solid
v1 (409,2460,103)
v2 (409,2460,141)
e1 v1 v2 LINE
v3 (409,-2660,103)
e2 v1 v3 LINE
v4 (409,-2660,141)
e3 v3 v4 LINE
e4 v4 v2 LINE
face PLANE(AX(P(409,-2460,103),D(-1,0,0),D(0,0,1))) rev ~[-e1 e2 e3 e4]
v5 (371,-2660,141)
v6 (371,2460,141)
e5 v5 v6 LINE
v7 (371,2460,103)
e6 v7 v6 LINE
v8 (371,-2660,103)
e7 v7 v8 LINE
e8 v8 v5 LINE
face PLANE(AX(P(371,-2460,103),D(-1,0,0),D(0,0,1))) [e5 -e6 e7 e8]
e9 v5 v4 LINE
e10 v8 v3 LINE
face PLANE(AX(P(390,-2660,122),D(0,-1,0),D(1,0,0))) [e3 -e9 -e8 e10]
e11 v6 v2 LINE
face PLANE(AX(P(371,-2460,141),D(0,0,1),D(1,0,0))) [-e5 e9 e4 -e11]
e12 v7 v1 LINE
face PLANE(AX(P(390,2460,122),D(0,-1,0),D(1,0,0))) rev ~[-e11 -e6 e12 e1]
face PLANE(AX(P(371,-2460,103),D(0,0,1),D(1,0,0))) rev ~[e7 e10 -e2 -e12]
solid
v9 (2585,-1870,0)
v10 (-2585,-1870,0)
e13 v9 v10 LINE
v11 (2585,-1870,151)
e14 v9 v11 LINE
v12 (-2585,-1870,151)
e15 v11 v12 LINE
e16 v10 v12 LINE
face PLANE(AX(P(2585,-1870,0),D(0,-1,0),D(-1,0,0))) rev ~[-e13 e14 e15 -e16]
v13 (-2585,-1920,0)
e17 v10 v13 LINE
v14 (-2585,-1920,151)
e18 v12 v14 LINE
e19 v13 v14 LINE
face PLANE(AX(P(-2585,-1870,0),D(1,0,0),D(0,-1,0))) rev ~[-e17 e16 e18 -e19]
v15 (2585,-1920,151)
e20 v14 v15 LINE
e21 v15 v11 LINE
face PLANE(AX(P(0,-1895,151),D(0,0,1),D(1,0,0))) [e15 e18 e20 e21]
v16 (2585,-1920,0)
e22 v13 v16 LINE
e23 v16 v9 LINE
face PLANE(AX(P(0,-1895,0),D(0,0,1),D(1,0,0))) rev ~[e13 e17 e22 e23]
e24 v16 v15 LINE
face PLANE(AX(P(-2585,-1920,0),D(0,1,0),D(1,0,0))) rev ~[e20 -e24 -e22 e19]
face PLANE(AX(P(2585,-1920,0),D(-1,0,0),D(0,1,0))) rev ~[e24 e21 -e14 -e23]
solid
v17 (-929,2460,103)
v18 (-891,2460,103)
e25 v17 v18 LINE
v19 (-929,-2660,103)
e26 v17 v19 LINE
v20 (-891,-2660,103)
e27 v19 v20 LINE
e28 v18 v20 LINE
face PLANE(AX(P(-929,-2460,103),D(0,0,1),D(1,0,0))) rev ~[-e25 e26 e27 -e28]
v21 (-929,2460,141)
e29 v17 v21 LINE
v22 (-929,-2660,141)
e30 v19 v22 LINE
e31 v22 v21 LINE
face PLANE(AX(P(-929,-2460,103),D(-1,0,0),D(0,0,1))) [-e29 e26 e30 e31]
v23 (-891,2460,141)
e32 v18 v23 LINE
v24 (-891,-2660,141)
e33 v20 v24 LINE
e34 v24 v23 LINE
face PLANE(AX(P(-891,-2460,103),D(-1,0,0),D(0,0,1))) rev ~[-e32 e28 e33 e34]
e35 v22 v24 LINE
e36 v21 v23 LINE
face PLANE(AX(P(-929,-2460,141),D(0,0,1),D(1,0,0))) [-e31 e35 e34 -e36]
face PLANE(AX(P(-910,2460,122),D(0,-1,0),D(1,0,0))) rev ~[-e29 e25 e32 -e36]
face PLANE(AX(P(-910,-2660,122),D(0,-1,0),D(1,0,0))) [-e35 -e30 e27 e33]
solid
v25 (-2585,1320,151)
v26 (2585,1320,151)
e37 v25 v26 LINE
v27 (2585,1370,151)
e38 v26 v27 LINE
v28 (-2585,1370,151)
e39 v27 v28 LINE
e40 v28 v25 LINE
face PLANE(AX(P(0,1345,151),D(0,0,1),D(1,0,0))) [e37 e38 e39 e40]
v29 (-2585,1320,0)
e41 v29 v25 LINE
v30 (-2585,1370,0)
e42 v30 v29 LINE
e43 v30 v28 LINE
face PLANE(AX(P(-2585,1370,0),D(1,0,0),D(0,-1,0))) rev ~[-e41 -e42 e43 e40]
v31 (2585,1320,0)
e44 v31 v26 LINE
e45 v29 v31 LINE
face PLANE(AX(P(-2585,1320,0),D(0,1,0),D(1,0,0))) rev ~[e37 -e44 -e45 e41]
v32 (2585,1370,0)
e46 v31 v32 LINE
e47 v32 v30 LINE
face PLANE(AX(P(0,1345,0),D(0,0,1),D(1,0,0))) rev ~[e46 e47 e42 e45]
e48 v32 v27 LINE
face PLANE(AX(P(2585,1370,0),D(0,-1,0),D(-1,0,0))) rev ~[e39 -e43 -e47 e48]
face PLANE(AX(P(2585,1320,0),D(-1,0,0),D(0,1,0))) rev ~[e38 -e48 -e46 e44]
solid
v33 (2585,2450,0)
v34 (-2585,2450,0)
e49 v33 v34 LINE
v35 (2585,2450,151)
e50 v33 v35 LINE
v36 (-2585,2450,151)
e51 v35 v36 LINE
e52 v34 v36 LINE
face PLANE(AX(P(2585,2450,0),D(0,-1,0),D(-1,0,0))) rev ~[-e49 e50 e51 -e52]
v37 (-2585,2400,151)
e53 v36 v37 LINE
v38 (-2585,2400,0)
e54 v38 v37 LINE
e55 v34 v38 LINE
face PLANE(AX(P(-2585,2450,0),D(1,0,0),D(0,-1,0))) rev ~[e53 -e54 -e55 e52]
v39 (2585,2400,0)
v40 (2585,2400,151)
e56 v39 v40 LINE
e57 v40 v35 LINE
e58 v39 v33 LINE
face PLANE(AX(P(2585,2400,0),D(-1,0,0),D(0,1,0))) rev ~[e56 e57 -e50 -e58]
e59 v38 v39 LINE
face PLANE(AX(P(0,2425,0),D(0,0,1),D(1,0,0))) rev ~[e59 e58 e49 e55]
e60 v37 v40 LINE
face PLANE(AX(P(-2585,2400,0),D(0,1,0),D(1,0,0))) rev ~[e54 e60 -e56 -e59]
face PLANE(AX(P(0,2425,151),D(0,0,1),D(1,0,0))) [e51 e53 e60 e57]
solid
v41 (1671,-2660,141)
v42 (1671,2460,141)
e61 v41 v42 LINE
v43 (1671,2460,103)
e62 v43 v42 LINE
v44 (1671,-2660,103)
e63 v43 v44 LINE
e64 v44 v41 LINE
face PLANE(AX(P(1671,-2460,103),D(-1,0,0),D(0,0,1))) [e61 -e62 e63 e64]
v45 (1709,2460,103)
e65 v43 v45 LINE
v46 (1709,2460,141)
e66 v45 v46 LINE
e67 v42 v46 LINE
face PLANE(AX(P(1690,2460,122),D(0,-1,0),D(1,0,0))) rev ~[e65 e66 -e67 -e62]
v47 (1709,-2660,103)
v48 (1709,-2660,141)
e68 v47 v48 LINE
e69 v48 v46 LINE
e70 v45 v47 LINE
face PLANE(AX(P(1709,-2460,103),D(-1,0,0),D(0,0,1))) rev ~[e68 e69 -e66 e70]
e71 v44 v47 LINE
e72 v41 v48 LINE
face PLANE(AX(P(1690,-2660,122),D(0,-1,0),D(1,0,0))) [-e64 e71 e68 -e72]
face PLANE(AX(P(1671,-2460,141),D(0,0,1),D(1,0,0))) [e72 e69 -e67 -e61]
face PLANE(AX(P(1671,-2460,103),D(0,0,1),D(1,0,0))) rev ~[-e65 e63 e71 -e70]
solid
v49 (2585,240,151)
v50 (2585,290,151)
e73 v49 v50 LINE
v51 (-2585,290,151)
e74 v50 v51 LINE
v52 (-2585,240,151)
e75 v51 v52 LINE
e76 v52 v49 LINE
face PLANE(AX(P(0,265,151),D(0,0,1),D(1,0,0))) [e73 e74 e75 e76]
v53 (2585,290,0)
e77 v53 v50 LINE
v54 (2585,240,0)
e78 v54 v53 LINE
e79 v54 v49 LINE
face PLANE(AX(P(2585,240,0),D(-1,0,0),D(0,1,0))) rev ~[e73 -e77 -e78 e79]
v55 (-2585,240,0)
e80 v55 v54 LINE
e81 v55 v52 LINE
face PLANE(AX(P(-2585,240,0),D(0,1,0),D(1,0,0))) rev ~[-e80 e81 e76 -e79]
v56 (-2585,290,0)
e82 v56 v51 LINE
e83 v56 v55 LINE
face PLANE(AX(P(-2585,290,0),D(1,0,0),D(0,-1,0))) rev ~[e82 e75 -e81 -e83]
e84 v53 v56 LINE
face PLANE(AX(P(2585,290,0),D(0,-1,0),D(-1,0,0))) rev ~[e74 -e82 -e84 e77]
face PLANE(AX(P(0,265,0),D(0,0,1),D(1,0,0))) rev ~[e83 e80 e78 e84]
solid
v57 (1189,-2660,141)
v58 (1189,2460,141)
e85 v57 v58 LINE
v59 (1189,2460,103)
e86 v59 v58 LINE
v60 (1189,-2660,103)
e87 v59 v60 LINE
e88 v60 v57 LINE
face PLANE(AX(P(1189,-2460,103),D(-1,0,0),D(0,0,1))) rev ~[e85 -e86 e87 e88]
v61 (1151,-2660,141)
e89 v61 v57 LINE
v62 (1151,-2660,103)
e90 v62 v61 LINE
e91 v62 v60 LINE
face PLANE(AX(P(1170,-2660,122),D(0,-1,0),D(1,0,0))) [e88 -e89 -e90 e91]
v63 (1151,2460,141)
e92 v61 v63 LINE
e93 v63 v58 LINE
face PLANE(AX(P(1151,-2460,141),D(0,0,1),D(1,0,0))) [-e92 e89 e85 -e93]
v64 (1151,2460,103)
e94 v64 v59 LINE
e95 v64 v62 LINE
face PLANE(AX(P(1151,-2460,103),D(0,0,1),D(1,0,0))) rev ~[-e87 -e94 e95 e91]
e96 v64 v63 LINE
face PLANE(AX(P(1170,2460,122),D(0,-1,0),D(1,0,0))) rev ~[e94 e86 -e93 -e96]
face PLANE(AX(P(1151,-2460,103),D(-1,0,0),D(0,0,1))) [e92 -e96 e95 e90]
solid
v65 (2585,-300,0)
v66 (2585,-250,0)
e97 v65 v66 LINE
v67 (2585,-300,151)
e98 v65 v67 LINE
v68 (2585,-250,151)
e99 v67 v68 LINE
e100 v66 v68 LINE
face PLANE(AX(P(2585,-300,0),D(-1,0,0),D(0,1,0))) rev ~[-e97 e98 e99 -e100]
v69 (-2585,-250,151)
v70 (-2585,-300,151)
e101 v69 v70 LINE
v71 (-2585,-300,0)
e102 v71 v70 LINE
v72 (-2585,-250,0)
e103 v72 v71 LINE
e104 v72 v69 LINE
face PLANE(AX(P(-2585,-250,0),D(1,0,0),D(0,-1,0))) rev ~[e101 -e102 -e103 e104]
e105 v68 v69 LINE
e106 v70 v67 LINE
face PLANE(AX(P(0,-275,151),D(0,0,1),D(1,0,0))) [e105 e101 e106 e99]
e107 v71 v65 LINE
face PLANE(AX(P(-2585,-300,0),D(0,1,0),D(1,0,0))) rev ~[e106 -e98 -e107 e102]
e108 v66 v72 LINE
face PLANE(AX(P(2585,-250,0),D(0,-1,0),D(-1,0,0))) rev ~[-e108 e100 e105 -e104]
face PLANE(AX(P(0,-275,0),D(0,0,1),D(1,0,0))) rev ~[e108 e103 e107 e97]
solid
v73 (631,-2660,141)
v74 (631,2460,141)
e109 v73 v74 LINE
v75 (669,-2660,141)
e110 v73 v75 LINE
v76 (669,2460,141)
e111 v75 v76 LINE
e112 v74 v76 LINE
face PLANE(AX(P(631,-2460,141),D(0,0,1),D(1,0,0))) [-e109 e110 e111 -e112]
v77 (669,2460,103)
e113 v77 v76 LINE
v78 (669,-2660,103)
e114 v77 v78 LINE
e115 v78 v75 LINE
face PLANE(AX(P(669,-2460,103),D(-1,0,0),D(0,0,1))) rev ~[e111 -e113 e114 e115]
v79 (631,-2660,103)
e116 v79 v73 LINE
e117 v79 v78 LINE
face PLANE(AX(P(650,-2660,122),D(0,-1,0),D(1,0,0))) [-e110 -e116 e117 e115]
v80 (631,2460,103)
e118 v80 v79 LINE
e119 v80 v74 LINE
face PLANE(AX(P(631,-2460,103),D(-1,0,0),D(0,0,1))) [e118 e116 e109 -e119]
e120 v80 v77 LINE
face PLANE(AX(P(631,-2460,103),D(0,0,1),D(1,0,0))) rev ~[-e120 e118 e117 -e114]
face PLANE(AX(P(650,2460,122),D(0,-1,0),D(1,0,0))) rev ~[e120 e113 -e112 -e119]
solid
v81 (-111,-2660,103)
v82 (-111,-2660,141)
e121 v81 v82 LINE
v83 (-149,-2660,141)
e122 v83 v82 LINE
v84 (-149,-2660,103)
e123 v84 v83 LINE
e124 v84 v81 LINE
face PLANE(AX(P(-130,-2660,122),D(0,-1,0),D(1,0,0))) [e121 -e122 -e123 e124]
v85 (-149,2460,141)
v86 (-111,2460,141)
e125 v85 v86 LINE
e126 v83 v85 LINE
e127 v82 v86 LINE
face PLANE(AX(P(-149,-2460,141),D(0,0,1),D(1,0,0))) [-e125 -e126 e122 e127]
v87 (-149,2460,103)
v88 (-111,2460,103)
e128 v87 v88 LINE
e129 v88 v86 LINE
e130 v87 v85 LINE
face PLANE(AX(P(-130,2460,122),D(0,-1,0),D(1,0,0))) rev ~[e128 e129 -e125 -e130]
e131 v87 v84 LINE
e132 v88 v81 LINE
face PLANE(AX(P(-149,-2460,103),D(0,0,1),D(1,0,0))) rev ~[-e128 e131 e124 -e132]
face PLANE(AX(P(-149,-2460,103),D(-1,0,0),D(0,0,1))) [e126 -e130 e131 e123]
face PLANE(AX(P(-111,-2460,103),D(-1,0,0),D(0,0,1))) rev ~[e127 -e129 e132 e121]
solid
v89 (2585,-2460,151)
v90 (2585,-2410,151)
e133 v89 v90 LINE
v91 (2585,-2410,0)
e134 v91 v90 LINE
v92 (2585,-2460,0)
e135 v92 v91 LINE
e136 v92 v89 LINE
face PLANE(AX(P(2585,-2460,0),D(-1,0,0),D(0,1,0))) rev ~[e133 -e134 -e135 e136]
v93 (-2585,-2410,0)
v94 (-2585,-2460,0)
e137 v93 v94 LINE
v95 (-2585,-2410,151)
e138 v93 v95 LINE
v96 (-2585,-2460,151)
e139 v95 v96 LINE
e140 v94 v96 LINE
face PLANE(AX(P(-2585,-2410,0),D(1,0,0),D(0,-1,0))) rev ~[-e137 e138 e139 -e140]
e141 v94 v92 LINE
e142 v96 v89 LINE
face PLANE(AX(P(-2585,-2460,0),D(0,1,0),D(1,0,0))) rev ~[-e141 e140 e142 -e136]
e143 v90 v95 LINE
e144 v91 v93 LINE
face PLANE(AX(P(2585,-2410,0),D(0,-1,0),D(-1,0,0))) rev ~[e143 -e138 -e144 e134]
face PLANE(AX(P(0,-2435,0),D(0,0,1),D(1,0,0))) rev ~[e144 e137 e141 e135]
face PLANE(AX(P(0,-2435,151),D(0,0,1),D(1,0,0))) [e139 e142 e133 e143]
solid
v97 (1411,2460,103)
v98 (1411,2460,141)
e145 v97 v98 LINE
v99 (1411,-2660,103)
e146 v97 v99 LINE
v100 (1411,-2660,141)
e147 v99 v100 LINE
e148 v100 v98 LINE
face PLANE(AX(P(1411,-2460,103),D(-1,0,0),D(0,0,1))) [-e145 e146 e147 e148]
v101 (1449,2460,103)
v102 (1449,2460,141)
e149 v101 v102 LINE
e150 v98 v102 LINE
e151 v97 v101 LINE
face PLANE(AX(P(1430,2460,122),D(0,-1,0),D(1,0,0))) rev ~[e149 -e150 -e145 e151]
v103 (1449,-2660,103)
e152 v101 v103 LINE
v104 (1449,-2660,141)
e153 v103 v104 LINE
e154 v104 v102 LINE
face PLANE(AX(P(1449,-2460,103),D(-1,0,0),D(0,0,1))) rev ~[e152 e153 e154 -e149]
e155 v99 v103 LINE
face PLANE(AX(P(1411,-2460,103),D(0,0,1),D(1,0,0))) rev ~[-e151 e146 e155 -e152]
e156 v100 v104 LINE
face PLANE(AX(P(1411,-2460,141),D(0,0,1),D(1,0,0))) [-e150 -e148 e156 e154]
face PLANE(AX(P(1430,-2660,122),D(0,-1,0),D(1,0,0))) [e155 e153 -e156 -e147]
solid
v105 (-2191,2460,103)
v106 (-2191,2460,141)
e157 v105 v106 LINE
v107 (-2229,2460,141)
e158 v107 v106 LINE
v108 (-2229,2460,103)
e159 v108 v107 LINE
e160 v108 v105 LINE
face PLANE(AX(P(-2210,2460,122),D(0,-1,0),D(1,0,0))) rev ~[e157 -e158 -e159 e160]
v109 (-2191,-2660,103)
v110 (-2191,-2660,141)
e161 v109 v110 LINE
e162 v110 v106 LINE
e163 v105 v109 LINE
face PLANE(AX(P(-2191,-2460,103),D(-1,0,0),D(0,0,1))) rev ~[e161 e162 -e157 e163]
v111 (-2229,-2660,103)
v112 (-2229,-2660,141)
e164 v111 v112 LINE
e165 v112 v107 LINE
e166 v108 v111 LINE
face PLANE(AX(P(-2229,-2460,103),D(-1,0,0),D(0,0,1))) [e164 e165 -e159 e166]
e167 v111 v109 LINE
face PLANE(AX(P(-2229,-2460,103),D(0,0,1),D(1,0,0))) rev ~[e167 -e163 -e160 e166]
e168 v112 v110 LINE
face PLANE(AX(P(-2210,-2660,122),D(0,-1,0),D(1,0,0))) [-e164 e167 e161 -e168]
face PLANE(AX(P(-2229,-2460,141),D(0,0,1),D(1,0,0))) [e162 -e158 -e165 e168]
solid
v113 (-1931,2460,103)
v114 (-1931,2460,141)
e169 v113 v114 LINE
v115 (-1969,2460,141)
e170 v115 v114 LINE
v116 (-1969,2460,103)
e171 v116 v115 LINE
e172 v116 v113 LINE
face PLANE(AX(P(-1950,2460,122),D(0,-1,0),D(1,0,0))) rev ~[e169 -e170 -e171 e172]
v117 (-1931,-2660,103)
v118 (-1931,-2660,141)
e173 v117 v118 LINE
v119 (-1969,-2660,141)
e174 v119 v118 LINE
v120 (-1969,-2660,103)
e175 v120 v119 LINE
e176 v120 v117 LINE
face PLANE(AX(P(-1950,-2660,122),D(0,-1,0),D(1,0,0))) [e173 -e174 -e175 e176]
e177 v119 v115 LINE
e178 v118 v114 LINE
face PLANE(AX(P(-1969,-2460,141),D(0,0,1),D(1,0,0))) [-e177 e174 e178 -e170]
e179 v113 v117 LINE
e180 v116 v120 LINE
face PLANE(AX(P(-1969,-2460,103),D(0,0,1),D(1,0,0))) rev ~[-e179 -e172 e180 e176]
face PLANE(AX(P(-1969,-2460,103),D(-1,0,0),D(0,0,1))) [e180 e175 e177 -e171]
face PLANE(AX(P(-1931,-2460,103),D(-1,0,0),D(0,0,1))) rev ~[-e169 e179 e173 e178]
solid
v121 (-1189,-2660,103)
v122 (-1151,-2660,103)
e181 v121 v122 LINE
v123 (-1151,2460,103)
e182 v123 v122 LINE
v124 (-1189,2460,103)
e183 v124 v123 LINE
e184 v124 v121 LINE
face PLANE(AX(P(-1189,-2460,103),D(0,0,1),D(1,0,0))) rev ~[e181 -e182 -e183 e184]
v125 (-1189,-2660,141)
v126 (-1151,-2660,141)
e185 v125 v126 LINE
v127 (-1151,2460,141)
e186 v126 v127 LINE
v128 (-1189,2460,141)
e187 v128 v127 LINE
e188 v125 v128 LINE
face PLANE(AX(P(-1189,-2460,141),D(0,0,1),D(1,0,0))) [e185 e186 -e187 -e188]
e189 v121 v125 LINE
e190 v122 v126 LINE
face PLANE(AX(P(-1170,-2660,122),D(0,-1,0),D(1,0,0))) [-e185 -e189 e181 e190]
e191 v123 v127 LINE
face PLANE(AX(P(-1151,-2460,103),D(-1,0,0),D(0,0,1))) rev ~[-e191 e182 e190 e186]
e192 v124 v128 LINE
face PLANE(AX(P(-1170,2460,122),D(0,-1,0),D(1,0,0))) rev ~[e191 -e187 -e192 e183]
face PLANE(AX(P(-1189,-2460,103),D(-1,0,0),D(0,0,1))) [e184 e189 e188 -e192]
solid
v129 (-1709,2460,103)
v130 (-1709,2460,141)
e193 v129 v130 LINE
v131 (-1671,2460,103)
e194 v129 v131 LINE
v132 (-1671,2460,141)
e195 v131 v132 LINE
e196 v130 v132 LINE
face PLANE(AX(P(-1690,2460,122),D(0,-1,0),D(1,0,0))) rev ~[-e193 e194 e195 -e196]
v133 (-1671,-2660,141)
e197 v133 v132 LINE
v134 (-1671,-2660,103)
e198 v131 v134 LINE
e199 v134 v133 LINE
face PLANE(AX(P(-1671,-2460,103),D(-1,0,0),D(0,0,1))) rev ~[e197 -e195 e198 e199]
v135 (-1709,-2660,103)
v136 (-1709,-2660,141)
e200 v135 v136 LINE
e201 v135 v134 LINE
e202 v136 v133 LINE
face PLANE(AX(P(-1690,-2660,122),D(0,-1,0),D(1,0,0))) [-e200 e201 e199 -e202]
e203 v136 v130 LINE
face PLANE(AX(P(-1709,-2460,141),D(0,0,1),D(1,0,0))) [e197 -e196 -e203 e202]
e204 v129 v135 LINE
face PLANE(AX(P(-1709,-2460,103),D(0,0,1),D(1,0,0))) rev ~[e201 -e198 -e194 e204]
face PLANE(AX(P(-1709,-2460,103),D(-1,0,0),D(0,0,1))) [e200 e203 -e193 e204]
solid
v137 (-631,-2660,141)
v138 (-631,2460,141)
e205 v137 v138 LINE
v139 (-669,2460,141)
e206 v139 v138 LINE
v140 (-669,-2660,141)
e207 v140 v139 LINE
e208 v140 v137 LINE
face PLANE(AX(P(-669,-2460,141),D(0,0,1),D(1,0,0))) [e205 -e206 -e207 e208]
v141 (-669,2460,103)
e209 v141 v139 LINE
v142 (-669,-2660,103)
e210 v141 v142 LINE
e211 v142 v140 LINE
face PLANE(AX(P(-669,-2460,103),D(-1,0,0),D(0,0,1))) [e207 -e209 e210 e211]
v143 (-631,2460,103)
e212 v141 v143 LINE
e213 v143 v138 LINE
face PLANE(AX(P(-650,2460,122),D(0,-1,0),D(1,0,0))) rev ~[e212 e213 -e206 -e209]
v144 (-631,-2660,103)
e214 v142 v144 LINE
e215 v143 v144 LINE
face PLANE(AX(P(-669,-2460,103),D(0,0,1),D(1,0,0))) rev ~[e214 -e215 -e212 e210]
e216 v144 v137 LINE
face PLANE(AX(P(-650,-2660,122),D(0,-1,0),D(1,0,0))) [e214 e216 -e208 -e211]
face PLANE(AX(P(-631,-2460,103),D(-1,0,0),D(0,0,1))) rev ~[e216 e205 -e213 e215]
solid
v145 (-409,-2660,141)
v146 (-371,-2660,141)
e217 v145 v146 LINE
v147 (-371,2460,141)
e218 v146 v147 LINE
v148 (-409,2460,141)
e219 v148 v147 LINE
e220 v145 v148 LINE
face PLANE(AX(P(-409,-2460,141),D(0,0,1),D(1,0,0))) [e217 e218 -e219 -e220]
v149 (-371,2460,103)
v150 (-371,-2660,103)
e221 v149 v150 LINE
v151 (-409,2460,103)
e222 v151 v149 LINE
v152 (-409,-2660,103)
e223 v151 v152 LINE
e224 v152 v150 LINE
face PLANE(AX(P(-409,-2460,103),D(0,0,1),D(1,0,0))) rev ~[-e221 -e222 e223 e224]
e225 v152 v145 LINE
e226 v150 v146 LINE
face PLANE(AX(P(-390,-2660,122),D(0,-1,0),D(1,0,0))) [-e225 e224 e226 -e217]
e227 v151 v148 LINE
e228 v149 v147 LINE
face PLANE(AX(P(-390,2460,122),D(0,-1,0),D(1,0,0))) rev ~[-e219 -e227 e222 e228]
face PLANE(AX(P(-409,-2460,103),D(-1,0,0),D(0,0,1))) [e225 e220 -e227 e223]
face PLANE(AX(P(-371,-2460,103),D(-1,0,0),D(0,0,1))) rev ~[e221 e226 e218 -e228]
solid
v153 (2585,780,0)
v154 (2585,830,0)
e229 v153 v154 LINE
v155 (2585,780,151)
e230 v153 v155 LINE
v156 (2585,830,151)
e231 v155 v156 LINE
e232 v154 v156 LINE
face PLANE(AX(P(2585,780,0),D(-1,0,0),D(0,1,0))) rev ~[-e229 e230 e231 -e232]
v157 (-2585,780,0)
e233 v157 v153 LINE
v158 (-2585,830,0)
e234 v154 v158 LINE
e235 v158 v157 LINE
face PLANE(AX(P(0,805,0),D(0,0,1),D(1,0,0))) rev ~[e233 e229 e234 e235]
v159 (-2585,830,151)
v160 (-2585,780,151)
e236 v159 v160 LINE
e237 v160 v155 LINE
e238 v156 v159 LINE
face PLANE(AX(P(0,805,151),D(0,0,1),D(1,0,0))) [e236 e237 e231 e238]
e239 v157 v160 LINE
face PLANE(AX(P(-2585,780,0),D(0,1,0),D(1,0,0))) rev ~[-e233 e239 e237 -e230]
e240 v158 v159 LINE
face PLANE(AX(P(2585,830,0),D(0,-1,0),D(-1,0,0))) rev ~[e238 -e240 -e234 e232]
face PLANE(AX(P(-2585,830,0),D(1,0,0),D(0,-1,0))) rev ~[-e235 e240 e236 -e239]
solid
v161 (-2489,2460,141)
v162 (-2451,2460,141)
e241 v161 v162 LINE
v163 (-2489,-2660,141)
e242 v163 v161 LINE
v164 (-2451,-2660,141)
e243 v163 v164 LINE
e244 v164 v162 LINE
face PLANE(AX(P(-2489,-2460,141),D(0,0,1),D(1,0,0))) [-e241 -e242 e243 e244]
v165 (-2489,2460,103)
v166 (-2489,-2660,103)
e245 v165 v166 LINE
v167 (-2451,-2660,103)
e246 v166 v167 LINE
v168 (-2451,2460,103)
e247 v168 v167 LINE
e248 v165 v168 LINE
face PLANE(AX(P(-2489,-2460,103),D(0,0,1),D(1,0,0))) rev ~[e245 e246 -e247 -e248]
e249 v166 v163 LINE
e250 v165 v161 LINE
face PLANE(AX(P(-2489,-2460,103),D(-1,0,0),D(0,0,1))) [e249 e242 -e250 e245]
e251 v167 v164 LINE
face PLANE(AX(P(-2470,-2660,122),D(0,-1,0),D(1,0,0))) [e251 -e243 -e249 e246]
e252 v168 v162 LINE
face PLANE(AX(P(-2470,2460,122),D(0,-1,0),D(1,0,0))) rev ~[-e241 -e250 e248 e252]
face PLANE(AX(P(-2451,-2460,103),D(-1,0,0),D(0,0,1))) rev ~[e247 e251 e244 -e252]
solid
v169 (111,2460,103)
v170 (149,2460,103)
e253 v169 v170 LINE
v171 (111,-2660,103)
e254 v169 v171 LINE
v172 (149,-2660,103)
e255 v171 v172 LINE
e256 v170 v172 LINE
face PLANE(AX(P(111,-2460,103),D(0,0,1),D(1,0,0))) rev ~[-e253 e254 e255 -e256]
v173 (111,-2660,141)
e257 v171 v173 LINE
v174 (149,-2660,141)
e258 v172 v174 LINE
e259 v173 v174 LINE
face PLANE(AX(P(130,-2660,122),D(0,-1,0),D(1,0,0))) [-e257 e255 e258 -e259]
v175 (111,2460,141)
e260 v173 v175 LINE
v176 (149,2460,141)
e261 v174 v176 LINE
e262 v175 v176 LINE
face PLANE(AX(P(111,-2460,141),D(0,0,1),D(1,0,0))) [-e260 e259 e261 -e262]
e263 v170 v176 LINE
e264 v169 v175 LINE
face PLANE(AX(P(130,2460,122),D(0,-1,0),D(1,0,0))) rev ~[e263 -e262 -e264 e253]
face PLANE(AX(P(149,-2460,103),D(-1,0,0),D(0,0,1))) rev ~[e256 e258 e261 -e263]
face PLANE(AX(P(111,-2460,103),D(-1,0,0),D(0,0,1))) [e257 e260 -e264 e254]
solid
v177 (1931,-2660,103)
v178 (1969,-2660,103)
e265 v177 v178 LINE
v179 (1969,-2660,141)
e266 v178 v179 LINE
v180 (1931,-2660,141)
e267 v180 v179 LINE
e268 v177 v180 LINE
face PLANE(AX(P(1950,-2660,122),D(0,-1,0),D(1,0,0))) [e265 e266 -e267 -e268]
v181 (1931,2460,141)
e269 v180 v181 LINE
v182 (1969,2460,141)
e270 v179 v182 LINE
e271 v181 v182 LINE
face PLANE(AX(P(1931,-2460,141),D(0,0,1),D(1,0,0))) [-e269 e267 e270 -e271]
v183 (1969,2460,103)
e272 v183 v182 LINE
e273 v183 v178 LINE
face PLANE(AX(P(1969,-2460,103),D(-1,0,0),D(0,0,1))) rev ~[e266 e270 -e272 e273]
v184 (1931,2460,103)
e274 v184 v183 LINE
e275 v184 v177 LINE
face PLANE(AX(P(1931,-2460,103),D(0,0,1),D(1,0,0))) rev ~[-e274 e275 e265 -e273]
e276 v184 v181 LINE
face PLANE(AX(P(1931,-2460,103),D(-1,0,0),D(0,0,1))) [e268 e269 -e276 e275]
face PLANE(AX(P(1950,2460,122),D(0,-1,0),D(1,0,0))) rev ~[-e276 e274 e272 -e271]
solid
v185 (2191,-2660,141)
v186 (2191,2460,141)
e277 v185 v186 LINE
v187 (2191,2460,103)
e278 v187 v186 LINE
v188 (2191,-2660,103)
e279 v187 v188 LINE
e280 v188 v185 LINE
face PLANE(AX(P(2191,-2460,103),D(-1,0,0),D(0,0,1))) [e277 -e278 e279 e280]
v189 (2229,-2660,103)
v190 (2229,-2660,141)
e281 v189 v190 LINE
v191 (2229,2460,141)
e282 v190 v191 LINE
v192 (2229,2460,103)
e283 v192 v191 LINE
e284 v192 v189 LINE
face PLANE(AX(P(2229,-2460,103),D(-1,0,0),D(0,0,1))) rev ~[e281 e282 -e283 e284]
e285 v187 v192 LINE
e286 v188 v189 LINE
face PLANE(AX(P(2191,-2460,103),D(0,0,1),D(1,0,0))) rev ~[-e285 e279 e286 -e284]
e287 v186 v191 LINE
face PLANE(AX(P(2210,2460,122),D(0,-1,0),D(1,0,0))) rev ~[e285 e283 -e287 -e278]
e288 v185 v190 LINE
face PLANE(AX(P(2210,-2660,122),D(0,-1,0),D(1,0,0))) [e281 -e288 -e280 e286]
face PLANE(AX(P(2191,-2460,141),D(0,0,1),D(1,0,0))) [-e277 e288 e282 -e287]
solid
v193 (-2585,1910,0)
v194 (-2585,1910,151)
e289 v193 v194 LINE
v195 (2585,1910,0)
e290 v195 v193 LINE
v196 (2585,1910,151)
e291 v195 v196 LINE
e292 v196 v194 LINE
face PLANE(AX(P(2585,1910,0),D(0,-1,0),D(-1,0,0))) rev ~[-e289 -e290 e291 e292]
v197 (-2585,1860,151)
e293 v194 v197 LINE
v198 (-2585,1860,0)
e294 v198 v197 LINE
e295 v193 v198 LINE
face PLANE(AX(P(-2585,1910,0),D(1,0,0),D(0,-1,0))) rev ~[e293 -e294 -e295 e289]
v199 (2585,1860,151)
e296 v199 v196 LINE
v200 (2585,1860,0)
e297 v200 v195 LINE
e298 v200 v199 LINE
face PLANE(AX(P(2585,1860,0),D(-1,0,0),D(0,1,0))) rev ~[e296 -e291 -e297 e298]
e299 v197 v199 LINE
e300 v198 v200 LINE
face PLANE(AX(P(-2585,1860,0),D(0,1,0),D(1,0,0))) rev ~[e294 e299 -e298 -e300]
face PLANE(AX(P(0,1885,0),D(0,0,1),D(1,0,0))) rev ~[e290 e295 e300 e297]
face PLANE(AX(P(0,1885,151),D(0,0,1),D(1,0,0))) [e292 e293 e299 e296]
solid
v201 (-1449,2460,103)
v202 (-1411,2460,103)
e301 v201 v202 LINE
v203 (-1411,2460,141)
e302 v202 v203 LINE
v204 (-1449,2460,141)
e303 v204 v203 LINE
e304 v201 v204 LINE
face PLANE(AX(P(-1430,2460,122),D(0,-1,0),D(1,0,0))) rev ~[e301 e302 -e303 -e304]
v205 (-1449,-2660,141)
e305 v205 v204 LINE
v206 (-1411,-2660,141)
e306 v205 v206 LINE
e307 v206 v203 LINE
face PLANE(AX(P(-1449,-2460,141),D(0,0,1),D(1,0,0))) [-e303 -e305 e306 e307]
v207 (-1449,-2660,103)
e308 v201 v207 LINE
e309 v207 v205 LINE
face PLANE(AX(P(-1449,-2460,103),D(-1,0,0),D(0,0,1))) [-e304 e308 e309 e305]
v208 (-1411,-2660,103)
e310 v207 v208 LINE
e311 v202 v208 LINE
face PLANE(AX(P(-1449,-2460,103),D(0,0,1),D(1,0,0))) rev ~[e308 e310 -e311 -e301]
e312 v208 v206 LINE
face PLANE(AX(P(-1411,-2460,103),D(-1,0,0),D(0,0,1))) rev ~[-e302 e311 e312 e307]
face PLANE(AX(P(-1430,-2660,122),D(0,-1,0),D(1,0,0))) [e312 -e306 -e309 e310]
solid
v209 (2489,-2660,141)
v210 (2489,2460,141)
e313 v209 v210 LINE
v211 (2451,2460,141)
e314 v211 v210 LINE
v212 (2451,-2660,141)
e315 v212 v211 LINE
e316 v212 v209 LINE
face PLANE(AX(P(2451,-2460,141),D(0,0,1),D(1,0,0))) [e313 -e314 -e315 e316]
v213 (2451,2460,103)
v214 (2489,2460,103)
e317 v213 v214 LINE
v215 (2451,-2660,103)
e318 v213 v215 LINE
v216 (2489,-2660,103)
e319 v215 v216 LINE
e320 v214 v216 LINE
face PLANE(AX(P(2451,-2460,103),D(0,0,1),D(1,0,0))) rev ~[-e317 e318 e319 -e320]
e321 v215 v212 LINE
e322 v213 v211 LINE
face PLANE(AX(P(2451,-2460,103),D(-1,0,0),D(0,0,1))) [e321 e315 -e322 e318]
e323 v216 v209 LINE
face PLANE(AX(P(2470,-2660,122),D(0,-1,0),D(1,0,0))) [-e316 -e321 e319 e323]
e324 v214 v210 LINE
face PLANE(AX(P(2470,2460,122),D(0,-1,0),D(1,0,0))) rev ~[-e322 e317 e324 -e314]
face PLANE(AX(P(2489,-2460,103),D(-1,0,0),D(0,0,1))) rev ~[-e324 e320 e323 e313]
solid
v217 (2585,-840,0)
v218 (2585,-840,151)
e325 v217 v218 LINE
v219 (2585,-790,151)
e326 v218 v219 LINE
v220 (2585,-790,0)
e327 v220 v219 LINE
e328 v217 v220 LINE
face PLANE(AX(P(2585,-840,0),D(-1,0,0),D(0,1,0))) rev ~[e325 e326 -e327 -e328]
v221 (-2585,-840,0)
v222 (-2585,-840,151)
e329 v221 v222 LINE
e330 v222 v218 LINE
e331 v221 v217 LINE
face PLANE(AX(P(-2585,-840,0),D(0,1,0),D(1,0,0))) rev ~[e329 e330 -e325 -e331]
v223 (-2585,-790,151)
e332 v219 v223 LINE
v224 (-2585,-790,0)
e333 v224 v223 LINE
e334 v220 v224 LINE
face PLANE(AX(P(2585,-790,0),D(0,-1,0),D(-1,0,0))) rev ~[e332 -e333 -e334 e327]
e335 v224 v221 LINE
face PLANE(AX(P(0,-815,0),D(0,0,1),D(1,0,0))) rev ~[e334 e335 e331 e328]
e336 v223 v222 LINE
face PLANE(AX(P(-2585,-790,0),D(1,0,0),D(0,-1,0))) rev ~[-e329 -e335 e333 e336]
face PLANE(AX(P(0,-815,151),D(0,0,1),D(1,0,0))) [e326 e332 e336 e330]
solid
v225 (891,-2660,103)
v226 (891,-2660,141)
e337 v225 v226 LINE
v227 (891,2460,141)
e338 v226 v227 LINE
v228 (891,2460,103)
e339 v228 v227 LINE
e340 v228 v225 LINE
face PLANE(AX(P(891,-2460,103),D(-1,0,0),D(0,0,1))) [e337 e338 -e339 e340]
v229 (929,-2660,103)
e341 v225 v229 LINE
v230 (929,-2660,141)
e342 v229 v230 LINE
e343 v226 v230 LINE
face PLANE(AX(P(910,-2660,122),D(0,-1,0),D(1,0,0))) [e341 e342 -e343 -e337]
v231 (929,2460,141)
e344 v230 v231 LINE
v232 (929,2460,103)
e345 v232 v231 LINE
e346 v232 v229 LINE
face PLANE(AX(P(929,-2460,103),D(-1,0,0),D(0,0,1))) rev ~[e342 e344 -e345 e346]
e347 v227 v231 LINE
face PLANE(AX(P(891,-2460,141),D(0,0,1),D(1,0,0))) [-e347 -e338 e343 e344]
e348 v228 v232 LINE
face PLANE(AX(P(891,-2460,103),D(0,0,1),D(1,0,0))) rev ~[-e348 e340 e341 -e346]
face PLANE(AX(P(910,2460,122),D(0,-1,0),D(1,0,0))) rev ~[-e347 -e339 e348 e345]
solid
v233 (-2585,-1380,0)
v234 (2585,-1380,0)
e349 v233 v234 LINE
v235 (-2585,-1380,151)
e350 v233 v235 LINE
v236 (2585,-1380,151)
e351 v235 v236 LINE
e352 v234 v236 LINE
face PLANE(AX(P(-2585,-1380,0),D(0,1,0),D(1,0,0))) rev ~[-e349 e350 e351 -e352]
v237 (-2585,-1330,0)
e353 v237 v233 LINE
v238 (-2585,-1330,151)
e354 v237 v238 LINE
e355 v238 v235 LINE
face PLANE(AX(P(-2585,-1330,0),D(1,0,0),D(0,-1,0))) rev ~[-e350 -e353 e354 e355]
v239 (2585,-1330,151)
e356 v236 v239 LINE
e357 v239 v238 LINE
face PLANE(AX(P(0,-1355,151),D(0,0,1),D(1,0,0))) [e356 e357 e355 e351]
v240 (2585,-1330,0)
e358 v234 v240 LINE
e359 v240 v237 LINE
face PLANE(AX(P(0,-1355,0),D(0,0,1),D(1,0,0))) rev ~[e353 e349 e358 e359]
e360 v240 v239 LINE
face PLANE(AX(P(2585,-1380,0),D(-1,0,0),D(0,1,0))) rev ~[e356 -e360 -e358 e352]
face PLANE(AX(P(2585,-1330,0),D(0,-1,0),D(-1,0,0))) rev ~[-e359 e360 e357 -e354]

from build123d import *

# Parameters (mm, degrees)
F1_DEPTH      = 151
F2_W          = 38
F2_H          = 38
F3_DEPTH      = 4920
F3_DEPTH_BACK = 200


with BuildPart() as f1:
    # F0 (on Top) → F1 (new body)
    with BuildSketch(Plane.XY):
        Polygon((-2535, -2460), (2585, -2460), (2585, -2410), (-2535, -2410), (-2560, -2410), (-2585, -2410), (-2585, -2460), (-2560, -2460), align=None)
    extrude(amount=F1_DEPTH)


with BuildPart() as f1b:
    # F0 (on Top) → F1, piece 2 (new body)
    with BuildSketch(Plane.XY):
        Polygon((-2535, -1920), (2585, -1920), (2585, -1870), (-2535, -1870), (-2560, -1870), (-2585, -1870), (-2585, -1920), (-2560, -1920), align=None)
    extrude(amount=F1_DEPTH)


with BuildPart() as f1c:
    # F0 (on Top) → F1, piece 3 (new body)
    with BuildSketch(Plane.XY):
        Polygon((-2535, -1380), (2585, -1380), (2585, -1330), (-2535, -1330), (-2560, -1330), (-2585, -1330), (-2585, -1380), (-2560, -1380), align=None)
    extrude(amount=F1_DEPTH)


with BuildPart() as f1d:
    # F0 (on Top) → F1, piece 4 (new body)
    with BuildSketch(Plane.XY):
        Polygon((-2535, -840), (2585, -840), (2585, -790), (-2535, -790), (-2560, -790), (-2585, -790), (-2585, -840), (-2560, -840), align=None)
    extrude(amount=F1_DEPTH)


with BuildPart() as f1e:
    # F0 (on Top) → F1, piece 5 (new body)
    with BuildSketch(Plane.XY):
        Polygon((-2535, -300), (2585, -300), (2585, -250), (-2535, -250), (-2560, -250), (-2585, -250), (-2585, -300), (-2560, -300), align=None)
    extrude(amount=F1_DEPTH)


with BuildPart() as f1f:
    # F0 (on Top) → F1, piece 6 (new body)
    with BuildSketch(Plane.XY):
        Polygon((-2535, 240), (2585, 240), (2585, 290), (-2535, 290), (-2560, 290), (-2585, 290), (-2585, 240), (-2560, 240), align=None)
    extrude(amount=F1_DEPTH)


with BuildPart() as f1g:
    # F0 (on Top) → F1, piece 7 (new body)
    with BuildSketch(Plane.XY):
        Polygon((-2535, 780), (2585, 780), (2585, 830), (-2535, 830), (-2560, 830), (-2585, 830), (-2585, 780), (-2560, 780), align=None)
    extrude(amount=F1_DEPTH)


with BuildPart() as f1h:
    # F0 (on Top) → F1, piece 8 (new body)
    with BuildSketch(Plane.XY):
        Polygon((-2535, 1320), (2585, 1320), (2585, 1370), (-2535, 1370), (-2560, 1370), (-2585, 1370), (-2585, 1320), (-2560, 1320), align=None)
    extrude(amount=F1_DEPTH)


with BuildPart() as f1i:
    # F0 (on Top) → F1, piece 9 (new body)
    with BuildSketch(Plane.XY):
        Polygon((-2535, 1860), (2585, 1860), (2585, 1910), (-2535, 1910), (-2560, 1910), (-2585, 1910), (-2585, 1860), (-2560, 1860), align=None)
    extrude(amount=F1_DEPTH)


with BuildPart() as f1j:
    # F0 (on Top) → F1, piece 10 (new body)
    with BuildSketch(Plane.XY):
        Polygon((-2535, 2400), (2585, 2400), (2585, 2450), (-2535, 2450), (-2560, 2450), (-2585, 2450), (-2585, 2400), (-2560, 2400), align=None)
    extrude(amount=F1_DEPTH)


with BuildPart() as f3:
    # F2 (on face) → F3 (new body, two sides)
    with BuildSketch(Plane.XZ.offset(2460)) as f3_sk:
        with Locations((2470, 122)):
            Rectangle(F2_W, F2_H)
    extrude(amount=-F3_DEPTH)
    extrude(f3_sk.sketch, amount=F3_DEPTH_BACK)


with BuildPart() as f3b:
    # F2 (on face) → F3, piece 2 (new body, two sides)
    with BuildSketch(Plane.XZ.offset(2460)) as f3_2_sk:
        with Locations((2210, 122)):
            Rectangle(F2_W, F2_H)
    extrude(amount=-F3_DEPTH)
    extrude(f3_2_sk.sketch, amount=F3_DEPTH_BACK)


with BuildPart() as f3c:
    # F2 (on face) → F3, piece 3 (new body, two sides)
    with BuildSketch(Plane.XZ.offset(2460)) as f3_3_sk:
        with Locations((1950, 122)):
            Rectangle(F2_W, F2_H)
    extrude(amount=-F3_DEPTH)
    extrude(f3_3_sk.sketch, amount=F3_DEPTH_BACK)


with BuildPart() as f3d:
    # F2 (on face) → F3, piece 4 (new body, two sides)
    with BuildSketch(Plane.XZ.offset(2460)) as f3_4_sk:
        with Locations((1690, 122)):
            Rectangle(F2_W, F2_H)
    extrude(amount=-F3_DEPTH)
    extrude(f3_4_sk.sketch, amount=F3_DEPTH_BACK)


with BuildPart() as f3e:
    # F2 (on face) → F3, piece 5 (new body, two sides)
    with BuildSketch(Plane.XZ.offset(2460)) as f3_5_sk:
        with Locations((1430, 122)):
            Rectangle(F2_W, F2_H)
    extrude(amount=-F3_DEPTH)
    extrude(f3_5_sk.sketch, amount=F3_DEPTH_BACK)


with BuildPart() as f3f:
    # F2 (on face) → F3, piece 6 (new body, two sides)
    with BuildSketch(Plane.XZ.offset(2460)) as f3_6_sk:
        with Locations((1170, 122)):
            Rectangle(F2_W, F2_H)
    extrude(amount=-F3_DEPTH)
    extrude(f3_6_sk.sketch, amount=F3_DEPTH_BACK)


with BuildPart() as f3g:
    # F2 (on face) → F3, piece 7 (new body, two sides)
    with BuildSketch(Plane.XZ.offset(2460)) as f3_7_sk:
        with Locations((910, 122)):
            Rectangle(F2_W, F2_H)
    extrude(amount=-F3_DEPTH)
    extrude(f3_7_sk.sketch, amount=F3_DEPTH_BACK)


with BuildPart() as f3h:
    # F2 (on face) → F3, piece 8 (new body, two sides)
    with BuildSketch(Plane.XZ.offset(2460)) as f3_8_sk:
        with Locations((650, 122)):
            Rectangle(F2_W, F2_H)
    extrude(amount=-F3_DEPTH)
    extrude(f3_8_sk.sketch, amount=F3_DEPTH_BACK)


with BuildPart() as f3i:
    # F2 (on face) → F3, piece 9 (new body, two sides)
    with BuildSketch(Plane.XZ.offset(2460)) as f3_9_sk:
        with Locations((390, 122)):
            Rectangle(F2_W, F2_H)
    extrude(amount=-F3_DEPTH)
    extrude(f3_9_sk.sketch, amount=F3_DEPTH_BACK)


with BuildPart() as f3j:
    # F2 (on face) → F3, piece 10 (new body, two sides)
    with BuildSketch(Plane.XZ.offset(2460)) as f3_10_sk:
        with Locations((130, 122)):
            Rectangle(F2_W, F2_H)
    extrude(amount=-F3_DEPTH)
    extrude(f3_10_sk.sketch, amount=F3_DEPTH_BACK)


with BuildPart() as f3k:
    # F2 (on face) → F3, piece 11 (new body, two sides)
    with BuildSketch(Plane.XZ.offset(2460)) as f3_11_sk:
        with Locations((-130, 122)):
            Rectangle(F2_W, F2_H)
    extrude(amount=-F3_DEPTH)
    extrude(f3_11_sk.sketch, amount=F3_DEPTH_BACK)


with BuildPart() as f3l:
    # F2 (on face) → F3, piece 12 (new body, two sides)
    with BuildSketch(Plane.XZ.offset(2460)) as f3_12_sk:
        with Locations((-390, 122)):
            Rectangle(F2_W, F2_H)
    extrude(amount=-F3_DEPTH)
    extrude(f3_12_sk.sketch, amount=F3_DEPTH_BACK)


with BuildPart() as f3m:
    # F2 (on face) → F3, piece 13 (new body, two sides)
    with BuildSketch(Plane.XZ.offset(2460)) as f3_13_sk:
        with Locations((-650, 122)):
            Rectangle(F2_W, F2_H)
    extrude(amount=-F3_DEPTH)
    extrude(f3_13_sk.sketch, amount=F3_DEPTH_BACK)


with BuildPart() as f3n:
    # F2 (on face) → F3, piece 14 (new body, two sides)
    with BuildSketch(Plane.XZ.offset(2460)) as f3_14_sk:
        with Locations((-910, 122)):
            Rectangle(F2_W, F2_H)
    extrude(amount=-F3_DEPTH)
    extrude(f3_14_sk.sketch, amount=F3_DEPTH_BACK)


with BuildPart() as f3o:
    # F2 (on face) → F3, piece 15 (new body, two sides)
    with BuildSketch(Plane.XZ.offset(2460)) as f3_15_sk:
        with Locations((-1170, 122)):
            Rectangle(F2_W, F2_H)
    extrude(amount=-F3_DEPTH)
    extrude(f3_15_sk.sketch, amount=F3_DEPTH_BACK)


with BuildPart() as f3p:
    # F2 (on face) → F3, piece 16 (new body, two sides)
    with BuildSketch(Plane.XZ.offset(2460)) as f3_16_sk:
        with Locations((-1430, 122)):
            Rectangle(F2_W, F2_H)
    extrude(amount=-F3_DEPTH)
    extrude(f3_16_sk.sketch, amount=F3_DEPTH_BACK)


with BuildPart() as f3q:
    # F2 (on face) → F3, piece 17 (new body, two sides)
    with BuildSketch(Plane.XZ.offset(2460)) as f3_17_sk:
        with Locations((-1690, 122)):
            Rectangle(F2_W, F2_H)
    extrude(amount=-F3_DEPTH)
    extrude(f3_17_sk.sketch, amount=F3_DEPTH_BACK)


with BuildPart() as f3r:
    # F2 (on face) → F3, piece 18 (new body, two sides)
    with BuildSketch(Plane.XZ.offset(2460)) as f3_18_sk:
        with Locations((-1950, 122)):
            Rectangle(F2_W, F2_H)
    extrude(amount=-F3_DEPTH)
    extrude(f3_18_sk.sketch, amount=F3_DEPTH_BACK)


with BuildPart() as f3s:
    # F2 (on face) → F3, piece 19 (new body, two sides)
    with BuildSketch(Plane.XZ.offset(2460)) as f3_19_sk:
        with Locations((-2210, 122)):
            Rectangle(F2_W, F2_H)
    extrude(amount=-F3_DEPTH)
    extrude(f3_19_sk.sketch, amount=F3_DEPTH_BACK)


with BuildPart() as f3t:
    # F2 (on face) → F3, piece 20 (new body, two sides)
    with BuildSketch(Plane.XZ.offset(2460)) as f3_20_sk:
        with Locations((-2470, 122)):
            Rectangle(F2_W, F2_H)
    extrude(amount=-F3_DEPTH)
    extrude(f3_20_sk.sketch, amount=F3_DEPTH_BACK)


solid = Compound([f1.part, f1b.part, f1c.part, f1d.part, f1e.part, f1f.part, f1g.part, f1h.part, f1i.part, f1j.part, f3.part, f3b.part, f3c.part, f3d.part, f3e.part, f3f.part, f3g.part, f3h.part, f3i.part, f3j.part, f3k.part, f3l.part, f3m.part, f3n.part, f3o.part, f3p.part, f3q.part, f3r.part, f3s.part, f3t.part])
